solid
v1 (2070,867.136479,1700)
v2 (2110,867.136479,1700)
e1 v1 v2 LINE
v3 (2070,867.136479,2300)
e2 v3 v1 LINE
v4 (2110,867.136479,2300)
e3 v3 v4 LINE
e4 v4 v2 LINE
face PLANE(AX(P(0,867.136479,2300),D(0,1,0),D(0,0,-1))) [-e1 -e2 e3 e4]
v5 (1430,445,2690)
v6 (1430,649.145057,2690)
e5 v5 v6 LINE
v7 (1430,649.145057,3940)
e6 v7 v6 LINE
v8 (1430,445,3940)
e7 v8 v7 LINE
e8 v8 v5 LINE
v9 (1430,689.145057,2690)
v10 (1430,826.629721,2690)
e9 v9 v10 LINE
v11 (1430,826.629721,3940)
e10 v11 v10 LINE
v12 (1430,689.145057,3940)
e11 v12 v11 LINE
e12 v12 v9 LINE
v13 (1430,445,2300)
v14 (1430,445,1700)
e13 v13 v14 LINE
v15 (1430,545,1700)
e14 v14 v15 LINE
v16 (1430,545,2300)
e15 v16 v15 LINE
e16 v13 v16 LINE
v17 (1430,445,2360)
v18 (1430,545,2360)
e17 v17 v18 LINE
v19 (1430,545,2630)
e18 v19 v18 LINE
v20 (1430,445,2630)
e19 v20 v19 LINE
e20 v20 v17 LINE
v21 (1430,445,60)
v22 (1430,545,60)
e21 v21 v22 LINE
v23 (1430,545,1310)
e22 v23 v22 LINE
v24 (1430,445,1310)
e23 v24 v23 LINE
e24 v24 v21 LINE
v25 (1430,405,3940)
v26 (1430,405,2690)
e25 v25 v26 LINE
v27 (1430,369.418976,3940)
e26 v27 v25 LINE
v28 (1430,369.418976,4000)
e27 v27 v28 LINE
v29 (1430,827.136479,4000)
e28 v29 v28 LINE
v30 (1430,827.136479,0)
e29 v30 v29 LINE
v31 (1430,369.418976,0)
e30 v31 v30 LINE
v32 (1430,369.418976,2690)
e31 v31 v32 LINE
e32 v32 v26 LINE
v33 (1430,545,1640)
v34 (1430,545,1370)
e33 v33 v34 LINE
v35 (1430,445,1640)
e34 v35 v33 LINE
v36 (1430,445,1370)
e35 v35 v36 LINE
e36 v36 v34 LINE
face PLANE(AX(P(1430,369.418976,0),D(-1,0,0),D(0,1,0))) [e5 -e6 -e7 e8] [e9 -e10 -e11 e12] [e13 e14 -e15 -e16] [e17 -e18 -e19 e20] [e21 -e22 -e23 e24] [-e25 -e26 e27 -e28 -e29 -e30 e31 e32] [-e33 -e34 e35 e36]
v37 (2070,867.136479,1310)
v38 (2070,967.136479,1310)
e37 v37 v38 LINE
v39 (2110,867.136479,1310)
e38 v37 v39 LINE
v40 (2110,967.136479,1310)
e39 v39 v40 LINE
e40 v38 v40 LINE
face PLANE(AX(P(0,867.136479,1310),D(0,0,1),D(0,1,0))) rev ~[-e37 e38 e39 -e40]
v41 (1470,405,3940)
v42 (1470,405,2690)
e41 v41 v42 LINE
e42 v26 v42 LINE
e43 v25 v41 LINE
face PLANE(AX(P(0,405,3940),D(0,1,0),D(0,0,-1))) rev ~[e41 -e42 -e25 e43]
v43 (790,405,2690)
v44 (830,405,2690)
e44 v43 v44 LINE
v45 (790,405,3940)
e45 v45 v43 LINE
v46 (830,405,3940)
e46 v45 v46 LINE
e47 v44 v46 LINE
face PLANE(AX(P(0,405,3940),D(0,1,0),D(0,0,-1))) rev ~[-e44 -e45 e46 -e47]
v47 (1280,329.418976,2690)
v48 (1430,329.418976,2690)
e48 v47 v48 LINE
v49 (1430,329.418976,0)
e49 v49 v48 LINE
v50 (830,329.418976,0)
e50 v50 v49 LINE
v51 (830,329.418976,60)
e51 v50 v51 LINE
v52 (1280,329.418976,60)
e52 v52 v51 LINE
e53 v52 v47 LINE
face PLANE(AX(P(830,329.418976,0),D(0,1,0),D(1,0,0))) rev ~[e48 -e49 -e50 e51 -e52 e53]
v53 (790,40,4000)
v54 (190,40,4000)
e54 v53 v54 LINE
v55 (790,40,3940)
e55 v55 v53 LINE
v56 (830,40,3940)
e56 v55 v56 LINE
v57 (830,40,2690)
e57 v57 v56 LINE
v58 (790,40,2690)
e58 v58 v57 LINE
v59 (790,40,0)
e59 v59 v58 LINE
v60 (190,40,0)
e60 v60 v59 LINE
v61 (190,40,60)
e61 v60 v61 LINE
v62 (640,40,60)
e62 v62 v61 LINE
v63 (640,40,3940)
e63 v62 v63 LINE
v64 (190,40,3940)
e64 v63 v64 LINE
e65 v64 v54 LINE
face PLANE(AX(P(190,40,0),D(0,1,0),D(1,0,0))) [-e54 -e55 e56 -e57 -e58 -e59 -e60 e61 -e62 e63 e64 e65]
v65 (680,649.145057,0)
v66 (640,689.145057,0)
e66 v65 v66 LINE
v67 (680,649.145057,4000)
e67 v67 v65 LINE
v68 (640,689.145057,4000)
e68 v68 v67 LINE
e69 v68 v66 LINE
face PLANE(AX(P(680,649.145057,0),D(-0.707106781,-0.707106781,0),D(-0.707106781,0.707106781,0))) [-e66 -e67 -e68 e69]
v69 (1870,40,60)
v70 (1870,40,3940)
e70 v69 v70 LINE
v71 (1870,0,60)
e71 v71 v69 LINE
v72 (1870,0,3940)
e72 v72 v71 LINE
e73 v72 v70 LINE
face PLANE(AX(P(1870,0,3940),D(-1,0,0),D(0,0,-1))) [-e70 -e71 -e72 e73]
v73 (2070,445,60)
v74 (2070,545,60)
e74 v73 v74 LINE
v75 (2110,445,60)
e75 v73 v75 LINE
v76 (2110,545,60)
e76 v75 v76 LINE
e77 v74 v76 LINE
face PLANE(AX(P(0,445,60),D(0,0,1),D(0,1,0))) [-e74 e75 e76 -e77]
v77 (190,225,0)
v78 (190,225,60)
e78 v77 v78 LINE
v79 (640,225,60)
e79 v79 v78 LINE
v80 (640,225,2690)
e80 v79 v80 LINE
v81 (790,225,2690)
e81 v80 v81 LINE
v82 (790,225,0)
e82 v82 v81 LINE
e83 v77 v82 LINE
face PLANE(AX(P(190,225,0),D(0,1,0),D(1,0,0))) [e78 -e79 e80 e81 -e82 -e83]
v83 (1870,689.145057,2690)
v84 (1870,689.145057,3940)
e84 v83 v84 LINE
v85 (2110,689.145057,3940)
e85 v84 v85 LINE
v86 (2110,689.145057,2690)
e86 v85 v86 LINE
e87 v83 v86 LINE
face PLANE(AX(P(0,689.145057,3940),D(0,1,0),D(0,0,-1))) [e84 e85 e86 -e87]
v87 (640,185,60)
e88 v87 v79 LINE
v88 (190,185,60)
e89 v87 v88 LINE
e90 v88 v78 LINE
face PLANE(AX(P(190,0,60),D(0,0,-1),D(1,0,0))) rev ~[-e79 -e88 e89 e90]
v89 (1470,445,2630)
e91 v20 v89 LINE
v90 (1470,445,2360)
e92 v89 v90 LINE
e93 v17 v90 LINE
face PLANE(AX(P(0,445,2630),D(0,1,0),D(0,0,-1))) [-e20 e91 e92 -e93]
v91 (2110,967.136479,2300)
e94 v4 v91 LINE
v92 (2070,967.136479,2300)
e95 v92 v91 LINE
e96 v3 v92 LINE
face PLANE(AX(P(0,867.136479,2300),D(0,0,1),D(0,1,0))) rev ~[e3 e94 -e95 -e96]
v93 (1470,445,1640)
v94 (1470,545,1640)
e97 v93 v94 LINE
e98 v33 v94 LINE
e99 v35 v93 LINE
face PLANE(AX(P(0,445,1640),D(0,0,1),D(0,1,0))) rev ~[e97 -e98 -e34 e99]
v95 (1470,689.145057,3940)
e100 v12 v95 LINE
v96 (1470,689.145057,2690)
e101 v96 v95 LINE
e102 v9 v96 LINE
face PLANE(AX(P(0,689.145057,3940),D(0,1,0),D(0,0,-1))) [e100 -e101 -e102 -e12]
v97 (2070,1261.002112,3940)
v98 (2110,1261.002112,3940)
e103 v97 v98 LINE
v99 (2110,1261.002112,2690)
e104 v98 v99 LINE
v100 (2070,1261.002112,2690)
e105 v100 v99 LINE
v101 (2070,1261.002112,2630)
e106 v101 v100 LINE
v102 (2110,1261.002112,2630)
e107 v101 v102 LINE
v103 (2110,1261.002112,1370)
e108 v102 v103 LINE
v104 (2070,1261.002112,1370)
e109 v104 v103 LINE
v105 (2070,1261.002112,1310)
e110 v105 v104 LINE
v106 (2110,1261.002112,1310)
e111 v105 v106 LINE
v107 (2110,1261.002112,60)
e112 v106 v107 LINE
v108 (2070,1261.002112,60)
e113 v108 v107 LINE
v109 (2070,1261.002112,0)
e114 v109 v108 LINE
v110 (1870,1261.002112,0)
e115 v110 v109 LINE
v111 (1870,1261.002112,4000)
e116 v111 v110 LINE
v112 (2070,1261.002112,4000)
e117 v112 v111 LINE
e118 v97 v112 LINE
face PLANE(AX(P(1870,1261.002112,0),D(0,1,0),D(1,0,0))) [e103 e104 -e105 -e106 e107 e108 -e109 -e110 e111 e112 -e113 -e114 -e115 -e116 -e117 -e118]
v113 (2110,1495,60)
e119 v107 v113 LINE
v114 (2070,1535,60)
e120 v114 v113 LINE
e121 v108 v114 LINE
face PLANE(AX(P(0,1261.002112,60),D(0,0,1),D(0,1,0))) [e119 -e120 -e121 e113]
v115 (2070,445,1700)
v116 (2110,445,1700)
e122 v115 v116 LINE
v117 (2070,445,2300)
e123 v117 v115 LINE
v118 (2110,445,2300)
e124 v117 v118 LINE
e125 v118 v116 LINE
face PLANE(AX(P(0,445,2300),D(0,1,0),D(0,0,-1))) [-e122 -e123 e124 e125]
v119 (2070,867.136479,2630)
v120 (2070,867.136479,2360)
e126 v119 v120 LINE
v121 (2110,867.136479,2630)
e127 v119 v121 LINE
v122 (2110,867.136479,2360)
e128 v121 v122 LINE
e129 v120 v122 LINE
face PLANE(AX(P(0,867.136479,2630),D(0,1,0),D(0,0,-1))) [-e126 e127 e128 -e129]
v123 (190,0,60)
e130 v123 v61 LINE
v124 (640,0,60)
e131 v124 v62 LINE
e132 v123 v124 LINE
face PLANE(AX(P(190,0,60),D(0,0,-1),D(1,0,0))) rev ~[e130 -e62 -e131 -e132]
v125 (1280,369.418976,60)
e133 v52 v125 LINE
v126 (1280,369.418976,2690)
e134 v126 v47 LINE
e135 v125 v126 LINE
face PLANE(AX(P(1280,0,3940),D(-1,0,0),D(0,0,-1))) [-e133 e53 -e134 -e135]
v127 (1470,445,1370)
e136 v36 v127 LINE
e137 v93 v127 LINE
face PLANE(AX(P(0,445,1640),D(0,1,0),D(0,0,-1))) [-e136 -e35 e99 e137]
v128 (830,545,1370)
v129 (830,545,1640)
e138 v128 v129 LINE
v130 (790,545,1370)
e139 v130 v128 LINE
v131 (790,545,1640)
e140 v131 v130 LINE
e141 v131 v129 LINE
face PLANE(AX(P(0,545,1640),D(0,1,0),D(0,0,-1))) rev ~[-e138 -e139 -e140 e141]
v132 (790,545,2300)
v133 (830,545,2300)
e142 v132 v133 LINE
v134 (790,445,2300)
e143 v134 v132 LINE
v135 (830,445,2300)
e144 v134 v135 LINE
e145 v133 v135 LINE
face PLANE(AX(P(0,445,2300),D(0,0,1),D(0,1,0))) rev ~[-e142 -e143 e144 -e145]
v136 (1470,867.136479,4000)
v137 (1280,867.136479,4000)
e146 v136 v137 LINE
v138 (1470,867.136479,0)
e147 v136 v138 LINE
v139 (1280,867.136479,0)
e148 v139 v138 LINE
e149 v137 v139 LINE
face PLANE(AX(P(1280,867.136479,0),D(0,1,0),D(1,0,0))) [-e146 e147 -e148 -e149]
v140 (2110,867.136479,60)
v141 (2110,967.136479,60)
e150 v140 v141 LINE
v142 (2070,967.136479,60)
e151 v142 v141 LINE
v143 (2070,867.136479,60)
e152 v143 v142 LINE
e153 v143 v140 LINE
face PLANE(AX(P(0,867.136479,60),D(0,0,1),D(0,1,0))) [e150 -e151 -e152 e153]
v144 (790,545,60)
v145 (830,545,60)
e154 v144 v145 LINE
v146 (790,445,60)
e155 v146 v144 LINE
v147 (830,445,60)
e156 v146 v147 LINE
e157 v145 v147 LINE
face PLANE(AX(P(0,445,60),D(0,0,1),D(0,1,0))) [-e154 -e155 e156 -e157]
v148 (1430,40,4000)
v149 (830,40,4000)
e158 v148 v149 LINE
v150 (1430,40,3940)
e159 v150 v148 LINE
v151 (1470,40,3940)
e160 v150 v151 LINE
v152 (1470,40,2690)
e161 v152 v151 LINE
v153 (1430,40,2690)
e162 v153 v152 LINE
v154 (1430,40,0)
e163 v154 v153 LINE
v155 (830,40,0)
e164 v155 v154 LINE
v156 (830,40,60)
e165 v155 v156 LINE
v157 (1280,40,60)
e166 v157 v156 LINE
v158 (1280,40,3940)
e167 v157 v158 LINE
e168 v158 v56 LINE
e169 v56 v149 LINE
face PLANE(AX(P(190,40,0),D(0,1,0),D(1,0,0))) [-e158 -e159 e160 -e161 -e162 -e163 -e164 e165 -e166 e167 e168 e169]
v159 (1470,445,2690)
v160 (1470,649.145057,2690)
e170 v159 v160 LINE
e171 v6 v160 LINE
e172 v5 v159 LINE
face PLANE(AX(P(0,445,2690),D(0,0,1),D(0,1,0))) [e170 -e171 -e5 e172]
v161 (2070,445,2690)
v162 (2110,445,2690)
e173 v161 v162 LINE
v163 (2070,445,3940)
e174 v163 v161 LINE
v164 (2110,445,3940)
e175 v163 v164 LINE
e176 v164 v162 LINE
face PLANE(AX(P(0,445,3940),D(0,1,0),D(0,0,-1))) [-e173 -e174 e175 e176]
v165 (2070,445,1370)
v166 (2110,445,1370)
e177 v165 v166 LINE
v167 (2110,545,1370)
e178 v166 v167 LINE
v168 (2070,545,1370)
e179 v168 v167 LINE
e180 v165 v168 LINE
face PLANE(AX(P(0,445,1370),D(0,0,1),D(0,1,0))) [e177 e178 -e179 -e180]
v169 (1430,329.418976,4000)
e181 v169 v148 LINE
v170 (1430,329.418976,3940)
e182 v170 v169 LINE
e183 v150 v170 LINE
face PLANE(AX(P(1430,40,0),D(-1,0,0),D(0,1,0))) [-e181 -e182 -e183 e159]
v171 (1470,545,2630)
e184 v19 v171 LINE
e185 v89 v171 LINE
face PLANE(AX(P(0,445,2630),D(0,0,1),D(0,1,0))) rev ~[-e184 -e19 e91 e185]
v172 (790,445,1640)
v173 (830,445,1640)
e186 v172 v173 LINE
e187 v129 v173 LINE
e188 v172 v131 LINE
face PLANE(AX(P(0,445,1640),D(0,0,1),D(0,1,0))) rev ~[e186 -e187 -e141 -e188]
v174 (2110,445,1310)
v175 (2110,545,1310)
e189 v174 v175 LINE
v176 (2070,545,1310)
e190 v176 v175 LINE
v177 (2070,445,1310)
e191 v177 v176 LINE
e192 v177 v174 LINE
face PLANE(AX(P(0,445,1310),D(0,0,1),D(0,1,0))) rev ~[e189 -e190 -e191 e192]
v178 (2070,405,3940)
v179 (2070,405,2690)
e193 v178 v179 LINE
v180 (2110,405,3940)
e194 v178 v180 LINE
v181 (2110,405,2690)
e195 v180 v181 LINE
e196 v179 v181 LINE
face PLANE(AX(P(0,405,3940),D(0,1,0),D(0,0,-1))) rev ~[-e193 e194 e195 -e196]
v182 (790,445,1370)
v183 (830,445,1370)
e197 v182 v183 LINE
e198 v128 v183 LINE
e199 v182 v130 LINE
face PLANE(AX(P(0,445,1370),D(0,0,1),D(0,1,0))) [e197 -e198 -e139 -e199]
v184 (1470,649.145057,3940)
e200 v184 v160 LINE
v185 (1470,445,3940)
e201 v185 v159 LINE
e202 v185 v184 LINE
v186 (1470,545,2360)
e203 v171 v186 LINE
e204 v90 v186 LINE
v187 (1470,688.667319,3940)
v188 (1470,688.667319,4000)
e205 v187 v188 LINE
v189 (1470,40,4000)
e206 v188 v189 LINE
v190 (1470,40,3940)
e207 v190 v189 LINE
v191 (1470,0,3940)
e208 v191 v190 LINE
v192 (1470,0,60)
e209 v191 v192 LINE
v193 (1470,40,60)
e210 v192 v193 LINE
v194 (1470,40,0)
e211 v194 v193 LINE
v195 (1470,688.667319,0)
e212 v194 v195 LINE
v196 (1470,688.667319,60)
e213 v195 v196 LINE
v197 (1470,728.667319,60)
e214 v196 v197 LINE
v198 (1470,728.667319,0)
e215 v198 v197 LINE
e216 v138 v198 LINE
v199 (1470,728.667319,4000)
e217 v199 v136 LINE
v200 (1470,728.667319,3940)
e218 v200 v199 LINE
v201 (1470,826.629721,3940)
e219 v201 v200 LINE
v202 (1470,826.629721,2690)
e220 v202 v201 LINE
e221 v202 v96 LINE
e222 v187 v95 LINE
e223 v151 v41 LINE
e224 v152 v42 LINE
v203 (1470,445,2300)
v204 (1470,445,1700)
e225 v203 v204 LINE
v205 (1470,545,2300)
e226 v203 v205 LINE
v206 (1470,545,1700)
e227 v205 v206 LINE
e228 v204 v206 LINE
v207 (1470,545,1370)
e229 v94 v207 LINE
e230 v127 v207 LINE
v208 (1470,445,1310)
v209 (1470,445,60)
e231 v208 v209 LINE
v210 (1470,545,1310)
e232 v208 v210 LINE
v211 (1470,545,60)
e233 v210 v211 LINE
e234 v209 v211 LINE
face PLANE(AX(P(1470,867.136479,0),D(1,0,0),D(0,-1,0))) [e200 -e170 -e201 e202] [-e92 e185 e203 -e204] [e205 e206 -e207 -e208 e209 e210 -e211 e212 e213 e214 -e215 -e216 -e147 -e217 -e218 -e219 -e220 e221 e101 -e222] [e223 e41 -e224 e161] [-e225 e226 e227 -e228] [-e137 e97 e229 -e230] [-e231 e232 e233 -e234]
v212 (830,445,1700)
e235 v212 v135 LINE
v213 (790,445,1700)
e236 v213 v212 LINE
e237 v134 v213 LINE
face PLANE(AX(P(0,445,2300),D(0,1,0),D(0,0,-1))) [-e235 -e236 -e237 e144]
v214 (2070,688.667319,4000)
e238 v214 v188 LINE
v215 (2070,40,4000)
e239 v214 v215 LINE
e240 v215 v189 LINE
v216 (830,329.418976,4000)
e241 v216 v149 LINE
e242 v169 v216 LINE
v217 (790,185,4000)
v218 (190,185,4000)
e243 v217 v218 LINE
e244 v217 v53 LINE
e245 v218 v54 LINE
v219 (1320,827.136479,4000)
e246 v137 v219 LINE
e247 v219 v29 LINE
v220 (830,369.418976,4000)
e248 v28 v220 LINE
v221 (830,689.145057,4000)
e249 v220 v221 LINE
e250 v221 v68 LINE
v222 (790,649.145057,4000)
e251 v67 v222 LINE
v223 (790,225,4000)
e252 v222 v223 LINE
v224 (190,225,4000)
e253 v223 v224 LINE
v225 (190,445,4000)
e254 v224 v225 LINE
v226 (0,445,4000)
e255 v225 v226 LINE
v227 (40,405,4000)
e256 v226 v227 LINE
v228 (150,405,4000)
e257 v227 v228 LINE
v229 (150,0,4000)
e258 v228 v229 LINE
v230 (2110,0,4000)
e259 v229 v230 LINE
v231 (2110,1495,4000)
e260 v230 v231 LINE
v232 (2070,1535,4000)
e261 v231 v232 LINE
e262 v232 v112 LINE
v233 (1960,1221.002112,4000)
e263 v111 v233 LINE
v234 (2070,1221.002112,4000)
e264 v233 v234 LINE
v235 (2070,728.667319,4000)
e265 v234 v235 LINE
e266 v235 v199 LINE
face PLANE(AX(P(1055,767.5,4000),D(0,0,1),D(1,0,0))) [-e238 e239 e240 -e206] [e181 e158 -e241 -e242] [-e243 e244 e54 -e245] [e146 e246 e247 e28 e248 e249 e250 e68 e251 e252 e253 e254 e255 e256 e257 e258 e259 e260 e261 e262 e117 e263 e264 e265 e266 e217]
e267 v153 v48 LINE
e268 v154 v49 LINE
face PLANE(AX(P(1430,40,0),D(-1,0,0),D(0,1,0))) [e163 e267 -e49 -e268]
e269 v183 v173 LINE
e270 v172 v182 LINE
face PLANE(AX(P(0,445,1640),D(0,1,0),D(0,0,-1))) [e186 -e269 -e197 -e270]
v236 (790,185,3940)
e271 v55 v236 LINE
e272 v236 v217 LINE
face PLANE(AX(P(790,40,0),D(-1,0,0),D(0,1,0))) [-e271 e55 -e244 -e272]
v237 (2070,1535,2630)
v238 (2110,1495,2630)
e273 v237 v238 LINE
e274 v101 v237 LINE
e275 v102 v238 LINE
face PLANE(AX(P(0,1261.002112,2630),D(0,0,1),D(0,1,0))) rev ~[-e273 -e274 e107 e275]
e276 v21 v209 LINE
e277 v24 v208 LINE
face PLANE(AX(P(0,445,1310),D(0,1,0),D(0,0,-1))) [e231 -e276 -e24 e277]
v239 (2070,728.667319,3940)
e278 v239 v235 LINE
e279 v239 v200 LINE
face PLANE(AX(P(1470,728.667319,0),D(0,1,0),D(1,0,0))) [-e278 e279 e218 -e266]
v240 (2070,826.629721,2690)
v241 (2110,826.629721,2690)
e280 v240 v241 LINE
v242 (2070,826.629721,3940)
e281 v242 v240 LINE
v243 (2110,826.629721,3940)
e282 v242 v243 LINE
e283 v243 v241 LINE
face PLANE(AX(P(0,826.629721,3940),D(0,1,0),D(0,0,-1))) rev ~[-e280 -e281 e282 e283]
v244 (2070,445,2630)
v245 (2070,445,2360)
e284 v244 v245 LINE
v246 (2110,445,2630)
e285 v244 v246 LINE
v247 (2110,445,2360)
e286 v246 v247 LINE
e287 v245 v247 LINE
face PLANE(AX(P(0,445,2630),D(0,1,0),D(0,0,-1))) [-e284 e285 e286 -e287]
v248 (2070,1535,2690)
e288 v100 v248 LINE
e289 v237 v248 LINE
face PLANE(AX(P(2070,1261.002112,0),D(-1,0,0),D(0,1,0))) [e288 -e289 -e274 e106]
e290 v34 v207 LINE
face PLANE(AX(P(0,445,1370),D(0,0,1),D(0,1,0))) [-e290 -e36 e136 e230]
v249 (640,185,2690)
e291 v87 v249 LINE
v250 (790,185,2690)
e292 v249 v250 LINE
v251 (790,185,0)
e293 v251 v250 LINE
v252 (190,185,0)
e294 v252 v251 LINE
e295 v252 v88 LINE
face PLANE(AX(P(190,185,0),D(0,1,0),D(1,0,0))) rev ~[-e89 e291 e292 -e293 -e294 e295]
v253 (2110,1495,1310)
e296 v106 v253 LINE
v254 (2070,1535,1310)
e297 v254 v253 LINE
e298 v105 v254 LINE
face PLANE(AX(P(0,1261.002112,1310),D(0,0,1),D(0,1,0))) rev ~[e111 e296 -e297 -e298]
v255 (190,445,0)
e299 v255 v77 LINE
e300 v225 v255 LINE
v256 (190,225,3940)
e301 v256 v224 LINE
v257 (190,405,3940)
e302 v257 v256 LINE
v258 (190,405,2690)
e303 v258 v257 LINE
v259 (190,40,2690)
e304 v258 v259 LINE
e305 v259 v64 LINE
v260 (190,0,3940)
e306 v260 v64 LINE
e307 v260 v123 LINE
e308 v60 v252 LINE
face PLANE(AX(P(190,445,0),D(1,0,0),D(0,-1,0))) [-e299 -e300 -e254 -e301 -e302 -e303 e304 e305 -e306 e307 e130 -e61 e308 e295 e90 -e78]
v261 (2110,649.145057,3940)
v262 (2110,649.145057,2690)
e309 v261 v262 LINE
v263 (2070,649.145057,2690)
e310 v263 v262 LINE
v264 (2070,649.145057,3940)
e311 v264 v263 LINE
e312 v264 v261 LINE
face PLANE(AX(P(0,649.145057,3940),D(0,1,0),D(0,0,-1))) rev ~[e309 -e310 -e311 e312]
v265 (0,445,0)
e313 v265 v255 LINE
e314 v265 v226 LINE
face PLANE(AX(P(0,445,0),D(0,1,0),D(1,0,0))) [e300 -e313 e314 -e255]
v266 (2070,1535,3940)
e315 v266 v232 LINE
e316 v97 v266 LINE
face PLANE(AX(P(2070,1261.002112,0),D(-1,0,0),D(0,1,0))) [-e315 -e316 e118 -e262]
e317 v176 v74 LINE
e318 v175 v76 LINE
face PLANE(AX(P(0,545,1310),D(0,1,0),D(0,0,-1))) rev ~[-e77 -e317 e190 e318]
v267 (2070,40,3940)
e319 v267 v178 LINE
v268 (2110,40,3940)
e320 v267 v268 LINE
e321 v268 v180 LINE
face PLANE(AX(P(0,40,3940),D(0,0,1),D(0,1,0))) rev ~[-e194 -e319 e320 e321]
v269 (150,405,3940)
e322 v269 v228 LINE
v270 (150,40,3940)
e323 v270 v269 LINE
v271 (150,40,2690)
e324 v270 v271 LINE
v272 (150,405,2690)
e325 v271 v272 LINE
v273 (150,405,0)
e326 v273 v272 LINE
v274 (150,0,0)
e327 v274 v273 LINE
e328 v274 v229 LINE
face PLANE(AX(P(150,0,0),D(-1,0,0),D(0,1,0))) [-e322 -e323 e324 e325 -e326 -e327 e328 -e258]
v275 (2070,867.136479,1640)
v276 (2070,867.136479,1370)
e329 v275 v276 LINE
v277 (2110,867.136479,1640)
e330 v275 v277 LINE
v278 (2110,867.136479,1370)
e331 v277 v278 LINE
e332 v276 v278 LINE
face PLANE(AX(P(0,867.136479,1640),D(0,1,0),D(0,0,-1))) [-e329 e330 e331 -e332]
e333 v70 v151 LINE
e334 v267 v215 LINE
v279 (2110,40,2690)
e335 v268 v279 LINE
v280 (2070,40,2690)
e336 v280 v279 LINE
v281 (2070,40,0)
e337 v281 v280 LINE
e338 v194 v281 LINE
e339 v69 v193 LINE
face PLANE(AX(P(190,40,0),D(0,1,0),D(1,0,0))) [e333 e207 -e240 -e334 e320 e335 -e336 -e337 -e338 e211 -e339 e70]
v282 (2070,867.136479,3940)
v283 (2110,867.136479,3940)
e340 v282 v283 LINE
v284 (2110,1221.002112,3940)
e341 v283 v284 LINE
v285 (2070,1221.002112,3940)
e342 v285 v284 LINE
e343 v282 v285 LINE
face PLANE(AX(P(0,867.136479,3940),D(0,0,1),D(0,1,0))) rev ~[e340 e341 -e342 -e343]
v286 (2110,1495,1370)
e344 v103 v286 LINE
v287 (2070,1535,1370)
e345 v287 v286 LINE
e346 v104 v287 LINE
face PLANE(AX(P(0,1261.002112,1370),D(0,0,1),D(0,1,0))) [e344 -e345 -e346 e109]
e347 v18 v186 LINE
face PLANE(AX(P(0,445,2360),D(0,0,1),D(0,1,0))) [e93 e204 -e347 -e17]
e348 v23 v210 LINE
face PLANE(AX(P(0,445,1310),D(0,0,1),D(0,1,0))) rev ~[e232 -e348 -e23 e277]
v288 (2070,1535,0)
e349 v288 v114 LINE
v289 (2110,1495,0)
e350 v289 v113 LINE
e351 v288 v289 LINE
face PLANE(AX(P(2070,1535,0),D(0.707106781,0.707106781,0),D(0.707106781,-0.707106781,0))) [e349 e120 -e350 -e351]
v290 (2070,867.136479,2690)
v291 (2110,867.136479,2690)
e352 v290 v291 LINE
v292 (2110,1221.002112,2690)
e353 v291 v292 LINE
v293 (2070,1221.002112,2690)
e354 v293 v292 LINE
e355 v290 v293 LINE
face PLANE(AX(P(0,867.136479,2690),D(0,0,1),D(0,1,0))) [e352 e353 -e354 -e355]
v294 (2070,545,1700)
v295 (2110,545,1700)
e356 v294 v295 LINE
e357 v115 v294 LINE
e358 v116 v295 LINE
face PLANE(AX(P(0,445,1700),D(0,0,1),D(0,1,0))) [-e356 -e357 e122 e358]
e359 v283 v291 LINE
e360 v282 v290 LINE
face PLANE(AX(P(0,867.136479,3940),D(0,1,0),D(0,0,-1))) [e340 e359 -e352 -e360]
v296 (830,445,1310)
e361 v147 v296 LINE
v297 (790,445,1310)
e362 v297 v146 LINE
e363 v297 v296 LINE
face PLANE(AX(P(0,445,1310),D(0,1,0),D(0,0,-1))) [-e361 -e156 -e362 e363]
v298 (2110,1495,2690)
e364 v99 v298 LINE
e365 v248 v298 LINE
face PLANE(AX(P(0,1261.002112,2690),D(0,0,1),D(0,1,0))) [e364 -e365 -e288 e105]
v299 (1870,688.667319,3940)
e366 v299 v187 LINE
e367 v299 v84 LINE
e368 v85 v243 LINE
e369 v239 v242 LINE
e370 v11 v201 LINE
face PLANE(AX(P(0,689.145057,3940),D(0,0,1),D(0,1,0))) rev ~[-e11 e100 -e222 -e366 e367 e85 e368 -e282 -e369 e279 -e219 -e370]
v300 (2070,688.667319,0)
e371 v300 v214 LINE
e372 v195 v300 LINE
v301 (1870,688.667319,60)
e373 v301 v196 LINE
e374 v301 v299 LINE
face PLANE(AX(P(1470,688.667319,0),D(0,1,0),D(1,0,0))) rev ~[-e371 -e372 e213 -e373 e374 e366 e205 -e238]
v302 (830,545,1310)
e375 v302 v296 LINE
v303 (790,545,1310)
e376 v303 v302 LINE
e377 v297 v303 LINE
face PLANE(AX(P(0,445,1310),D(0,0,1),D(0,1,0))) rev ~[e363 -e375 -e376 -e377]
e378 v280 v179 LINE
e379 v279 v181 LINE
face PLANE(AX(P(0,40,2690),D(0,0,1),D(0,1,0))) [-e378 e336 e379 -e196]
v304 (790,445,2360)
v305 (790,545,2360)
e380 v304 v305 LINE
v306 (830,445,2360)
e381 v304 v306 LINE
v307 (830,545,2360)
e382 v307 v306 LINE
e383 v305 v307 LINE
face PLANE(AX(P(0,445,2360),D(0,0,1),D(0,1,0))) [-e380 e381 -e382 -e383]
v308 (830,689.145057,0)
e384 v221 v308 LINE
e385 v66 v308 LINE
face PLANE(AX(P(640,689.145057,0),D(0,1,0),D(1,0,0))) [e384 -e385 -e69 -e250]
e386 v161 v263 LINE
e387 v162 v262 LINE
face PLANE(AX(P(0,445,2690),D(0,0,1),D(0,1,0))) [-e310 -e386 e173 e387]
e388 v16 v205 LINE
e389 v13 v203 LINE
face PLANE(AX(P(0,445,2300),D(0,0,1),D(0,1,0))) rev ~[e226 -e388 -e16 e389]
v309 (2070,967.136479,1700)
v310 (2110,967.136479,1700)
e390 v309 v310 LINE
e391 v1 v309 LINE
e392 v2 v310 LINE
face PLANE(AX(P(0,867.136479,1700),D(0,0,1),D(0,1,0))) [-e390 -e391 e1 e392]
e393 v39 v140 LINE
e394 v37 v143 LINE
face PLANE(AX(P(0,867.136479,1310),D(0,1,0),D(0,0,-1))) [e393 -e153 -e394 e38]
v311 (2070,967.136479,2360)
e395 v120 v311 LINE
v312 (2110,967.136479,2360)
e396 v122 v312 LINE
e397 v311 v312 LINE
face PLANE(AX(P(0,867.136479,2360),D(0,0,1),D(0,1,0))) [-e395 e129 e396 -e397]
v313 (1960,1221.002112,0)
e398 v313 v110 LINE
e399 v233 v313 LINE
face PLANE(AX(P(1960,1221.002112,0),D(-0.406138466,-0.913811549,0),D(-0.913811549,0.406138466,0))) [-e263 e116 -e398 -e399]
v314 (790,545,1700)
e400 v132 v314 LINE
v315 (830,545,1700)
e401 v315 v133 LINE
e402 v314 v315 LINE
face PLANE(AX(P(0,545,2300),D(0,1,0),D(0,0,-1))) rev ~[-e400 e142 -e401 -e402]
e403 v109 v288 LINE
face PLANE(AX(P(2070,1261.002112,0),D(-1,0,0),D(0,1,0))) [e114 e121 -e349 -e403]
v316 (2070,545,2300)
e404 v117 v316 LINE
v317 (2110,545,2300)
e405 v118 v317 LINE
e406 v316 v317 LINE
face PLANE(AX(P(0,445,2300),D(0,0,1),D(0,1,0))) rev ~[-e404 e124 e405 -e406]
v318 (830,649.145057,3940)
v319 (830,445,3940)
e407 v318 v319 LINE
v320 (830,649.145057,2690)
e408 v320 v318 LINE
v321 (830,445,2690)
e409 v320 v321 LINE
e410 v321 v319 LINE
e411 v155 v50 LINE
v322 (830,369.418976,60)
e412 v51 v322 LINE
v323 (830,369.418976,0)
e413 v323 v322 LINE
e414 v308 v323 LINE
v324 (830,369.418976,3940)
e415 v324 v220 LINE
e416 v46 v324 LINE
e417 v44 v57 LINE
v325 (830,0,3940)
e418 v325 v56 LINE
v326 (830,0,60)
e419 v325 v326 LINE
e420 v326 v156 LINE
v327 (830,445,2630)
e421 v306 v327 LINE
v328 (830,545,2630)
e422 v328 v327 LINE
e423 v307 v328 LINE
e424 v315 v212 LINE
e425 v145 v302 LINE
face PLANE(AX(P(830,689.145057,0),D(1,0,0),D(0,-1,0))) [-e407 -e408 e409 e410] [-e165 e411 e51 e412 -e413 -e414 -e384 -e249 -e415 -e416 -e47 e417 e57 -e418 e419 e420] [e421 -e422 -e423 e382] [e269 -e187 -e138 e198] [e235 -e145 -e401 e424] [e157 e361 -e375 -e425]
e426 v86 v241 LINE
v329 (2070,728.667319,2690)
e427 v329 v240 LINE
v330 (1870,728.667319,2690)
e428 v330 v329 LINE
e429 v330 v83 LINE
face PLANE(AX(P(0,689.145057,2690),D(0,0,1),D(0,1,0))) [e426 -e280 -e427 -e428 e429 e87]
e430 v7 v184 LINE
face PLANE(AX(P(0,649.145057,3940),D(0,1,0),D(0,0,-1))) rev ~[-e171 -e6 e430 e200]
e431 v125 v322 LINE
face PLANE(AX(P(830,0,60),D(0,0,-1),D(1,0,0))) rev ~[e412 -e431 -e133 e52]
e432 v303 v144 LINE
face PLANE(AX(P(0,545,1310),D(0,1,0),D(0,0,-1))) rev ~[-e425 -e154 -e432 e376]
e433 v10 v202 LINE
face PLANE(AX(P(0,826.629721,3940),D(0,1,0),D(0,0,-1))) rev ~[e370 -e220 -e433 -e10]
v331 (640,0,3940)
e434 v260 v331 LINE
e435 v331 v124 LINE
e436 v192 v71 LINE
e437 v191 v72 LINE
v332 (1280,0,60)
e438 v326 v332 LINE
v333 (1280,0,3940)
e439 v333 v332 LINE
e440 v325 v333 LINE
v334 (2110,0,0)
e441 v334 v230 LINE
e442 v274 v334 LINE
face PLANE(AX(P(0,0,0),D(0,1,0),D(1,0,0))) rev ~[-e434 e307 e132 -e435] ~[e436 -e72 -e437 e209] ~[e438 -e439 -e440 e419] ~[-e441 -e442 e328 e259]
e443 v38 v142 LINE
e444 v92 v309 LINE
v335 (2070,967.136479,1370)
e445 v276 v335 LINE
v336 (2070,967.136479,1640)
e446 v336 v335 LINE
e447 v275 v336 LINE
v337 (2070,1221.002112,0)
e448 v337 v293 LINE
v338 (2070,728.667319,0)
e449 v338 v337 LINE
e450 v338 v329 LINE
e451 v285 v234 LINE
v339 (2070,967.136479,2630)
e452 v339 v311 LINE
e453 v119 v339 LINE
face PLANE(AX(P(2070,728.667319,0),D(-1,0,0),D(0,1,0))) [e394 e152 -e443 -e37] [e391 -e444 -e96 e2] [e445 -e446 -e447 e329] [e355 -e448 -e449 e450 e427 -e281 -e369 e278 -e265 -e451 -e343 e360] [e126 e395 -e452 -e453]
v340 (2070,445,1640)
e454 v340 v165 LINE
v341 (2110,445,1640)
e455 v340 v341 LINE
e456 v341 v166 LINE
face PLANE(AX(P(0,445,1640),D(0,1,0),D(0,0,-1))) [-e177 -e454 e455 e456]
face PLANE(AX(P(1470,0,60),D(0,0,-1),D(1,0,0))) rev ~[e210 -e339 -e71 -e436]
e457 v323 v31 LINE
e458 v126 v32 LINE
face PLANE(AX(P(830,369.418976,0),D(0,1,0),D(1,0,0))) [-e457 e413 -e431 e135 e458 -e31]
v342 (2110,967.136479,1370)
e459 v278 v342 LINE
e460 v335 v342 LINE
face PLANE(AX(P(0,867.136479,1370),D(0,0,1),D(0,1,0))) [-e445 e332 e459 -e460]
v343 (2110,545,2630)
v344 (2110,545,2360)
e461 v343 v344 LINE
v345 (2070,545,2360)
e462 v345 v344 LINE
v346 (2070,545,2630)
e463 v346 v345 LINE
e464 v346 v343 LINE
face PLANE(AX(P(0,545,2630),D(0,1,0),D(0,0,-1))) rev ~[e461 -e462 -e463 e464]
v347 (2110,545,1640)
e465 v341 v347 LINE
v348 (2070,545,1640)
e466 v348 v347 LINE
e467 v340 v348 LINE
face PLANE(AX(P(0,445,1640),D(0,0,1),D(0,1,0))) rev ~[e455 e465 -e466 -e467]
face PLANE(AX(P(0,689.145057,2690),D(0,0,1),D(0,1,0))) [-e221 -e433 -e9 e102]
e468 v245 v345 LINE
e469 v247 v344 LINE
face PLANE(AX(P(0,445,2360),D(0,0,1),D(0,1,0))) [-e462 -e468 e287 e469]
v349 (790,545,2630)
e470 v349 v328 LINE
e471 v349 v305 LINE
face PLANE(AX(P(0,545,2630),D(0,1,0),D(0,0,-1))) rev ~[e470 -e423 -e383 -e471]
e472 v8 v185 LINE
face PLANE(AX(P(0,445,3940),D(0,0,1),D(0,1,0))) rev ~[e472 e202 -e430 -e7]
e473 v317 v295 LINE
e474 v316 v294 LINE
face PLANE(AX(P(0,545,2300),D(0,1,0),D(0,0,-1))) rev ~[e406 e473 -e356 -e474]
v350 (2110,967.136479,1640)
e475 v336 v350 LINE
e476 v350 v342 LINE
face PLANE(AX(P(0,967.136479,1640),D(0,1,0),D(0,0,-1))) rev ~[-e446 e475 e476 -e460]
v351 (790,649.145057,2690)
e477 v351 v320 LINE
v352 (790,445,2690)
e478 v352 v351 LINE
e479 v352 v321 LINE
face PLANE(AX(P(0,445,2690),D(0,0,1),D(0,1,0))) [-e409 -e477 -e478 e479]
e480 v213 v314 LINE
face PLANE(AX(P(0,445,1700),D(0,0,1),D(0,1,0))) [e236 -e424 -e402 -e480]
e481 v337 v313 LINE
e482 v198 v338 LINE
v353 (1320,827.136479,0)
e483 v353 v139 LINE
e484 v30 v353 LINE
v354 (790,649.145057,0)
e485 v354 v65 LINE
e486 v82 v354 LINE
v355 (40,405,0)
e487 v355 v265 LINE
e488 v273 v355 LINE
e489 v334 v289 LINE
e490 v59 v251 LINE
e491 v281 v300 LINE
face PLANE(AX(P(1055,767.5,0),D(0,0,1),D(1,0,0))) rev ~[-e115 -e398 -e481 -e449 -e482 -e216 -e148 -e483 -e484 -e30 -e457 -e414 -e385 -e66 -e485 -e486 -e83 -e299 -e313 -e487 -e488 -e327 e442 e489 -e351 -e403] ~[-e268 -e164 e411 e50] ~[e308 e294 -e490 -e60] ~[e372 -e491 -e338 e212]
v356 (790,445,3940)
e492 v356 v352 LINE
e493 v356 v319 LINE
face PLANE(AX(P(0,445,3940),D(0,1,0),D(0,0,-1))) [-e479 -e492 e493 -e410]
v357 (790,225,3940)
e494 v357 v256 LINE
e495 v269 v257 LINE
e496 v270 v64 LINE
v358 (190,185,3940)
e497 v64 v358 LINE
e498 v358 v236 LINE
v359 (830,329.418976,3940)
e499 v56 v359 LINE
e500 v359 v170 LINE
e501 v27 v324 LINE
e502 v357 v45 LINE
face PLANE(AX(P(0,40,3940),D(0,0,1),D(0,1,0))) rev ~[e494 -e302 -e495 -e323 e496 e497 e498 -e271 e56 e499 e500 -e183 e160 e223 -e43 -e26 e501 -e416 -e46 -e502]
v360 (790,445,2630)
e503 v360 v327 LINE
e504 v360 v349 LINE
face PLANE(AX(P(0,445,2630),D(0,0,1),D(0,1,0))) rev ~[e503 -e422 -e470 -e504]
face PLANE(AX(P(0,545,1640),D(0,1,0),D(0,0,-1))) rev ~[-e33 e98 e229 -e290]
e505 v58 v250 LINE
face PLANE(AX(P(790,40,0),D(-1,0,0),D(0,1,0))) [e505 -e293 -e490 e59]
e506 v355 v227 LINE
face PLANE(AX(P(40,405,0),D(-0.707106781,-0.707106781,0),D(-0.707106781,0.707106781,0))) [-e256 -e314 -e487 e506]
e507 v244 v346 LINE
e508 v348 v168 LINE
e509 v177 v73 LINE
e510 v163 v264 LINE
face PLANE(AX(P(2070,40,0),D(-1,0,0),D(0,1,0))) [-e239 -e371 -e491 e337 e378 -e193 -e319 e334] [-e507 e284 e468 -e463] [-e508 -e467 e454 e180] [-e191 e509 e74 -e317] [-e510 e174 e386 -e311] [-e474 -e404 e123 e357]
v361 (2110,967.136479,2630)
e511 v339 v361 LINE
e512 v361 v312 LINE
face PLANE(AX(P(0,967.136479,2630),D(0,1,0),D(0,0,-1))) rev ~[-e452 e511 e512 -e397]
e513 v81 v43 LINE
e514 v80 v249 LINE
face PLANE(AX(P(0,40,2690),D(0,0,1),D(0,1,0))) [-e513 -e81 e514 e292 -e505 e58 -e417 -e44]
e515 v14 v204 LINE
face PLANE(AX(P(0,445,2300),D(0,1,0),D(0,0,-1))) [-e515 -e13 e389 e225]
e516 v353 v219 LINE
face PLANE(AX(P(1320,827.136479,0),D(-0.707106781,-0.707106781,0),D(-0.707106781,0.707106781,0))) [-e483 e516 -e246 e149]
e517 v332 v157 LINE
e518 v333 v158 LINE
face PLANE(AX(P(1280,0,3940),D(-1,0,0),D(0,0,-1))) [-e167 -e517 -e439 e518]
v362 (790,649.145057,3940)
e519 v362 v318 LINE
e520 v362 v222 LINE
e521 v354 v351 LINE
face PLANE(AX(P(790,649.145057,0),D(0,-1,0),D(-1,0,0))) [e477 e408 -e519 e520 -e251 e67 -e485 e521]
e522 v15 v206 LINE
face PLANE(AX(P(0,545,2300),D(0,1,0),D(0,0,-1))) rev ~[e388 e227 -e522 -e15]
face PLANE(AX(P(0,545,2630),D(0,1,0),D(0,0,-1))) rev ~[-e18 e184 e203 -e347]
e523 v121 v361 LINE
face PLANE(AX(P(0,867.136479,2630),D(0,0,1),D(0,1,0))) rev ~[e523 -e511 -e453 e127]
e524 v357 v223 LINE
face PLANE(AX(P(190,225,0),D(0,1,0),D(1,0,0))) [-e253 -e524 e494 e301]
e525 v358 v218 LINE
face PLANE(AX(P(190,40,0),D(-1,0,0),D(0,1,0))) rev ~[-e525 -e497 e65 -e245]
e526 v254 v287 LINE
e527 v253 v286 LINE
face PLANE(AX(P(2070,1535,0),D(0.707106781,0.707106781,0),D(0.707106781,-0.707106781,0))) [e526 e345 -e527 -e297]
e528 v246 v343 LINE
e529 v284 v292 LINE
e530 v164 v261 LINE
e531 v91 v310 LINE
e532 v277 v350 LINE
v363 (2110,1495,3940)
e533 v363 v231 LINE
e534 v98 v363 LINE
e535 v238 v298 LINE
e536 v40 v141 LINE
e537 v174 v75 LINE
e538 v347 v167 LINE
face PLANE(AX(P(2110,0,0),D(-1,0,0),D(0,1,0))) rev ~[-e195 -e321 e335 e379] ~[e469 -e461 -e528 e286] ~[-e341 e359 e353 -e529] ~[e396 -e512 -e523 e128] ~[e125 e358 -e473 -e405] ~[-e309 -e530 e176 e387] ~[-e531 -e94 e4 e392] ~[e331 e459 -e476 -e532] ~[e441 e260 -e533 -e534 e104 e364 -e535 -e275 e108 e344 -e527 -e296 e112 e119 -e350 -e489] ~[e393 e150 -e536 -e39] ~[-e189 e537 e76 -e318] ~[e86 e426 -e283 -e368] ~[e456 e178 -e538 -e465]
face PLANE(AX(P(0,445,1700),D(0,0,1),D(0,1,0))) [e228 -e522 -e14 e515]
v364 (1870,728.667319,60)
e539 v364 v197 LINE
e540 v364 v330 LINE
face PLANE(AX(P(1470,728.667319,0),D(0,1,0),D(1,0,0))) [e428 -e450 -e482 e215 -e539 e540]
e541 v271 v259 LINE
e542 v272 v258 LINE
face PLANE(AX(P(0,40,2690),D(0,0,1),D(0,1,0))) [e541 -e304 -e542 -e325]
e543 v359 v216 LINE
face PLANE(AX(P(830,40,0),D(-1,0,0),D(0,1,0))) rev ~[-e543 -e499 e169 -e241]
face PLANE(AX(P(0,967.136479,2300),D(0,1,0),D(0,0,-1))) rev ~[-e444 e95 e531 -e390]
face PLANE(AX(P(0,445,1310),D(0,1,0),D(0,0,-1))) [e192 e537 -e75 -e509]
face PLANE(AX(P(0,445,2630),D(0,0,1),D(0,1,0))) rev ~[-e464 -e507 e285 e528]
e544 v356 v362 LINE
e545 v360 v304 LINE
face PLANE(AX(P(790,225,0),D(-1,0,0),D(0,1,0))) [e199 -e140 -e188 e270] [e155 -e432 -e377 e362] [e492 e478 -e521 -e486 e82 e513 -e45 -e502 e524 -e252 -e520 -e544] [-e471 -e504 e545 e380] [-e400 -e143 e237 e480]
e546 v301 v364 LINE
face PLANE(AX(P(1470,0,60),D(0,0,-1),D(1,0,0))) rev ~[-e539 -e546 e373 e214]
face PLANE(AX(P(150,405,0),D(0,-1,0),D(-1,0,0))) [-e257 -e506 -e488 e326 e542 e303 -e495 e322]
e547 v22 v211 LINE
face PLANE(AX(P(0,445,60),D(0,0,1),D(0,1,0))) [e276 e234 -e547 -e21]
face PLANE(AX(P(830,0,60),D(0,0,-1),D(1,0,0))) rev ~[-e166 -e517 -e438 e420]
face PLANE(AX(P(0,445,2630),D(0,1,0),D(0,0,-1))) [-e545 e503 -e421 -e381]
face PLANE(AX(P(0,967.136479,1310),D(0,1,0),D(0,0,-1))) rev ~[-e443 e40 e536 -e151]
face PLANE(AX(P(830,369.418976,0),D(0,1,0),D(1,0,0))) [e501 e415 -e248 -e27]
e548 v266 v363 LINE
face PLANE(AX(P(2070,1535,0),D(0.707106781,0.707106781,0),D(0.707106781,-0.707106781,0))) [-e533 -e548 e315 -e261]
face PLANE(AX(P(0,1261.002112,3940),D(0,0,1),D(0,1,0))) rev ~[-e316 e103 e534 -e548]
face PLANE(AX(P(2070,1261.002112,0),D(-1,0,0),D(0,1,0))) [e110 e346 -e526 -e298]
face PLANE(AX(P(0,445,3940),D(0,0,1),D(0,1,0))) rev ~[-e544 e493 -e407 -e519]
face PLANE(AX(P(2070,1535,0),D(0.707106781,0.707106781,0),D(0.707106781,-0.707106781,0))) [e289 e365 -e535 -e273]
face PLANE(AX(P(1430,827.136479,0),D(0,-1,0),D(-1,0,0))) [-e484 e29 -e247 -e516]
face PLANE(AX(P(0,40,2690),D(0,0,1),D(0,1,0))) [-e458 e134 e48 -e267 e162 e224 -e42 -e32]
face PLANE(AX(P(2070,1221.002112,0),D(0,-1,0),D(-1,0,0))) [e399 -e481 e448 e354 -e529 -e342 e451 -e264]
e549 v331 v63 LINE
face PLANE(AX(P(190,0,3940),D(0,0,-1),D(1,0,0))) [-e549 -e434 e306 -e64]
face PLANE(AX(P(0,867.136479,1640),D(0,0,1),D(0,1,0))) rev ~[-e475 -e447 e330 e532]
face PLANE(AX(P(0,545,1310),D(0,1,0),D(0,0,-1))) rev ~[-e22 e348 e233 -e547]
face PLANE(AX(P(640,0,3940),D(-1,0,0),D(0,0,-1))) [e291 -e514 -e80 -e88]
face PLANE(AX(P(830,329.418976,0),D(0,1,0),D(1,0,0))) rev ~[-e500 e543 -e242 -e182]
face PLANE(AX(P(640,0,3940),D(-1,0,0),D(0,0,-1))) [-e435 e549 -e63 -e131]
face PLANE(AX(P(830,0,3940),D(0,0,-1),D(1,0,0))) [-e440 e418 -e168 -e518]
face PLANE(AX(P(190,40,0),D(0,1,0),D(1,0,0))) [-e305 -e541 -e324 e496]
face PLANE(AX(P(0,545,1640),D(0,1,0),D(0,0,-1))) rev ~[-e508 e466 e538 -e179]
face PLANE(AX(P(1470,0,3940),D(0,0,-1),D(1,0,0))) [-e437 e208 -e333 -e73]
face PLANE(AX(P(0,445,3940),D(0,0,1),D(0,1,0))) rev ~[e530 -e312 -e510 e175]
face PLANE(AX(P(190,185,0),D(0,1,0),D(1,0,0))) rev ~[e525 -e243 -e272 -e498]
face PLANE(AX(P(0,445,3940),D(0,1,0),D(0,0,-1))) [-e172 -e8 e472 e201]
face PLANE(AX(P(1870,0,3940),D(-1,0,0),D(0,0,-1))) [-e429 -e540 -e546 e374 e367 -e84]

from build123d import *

# Parameters (mm, degrees)
ESQUISSE1_W              = 2110
ESQUISSE1_H              = 1535
BOSS_EXTRU_1_DEPTH       = 4000
ESQUISSE2_OUTSIDE_W      = 3067.162
ESQUISSE2_OUTSIDE_H      = 2492.162
ESQUISSE2_OUTSIDE_W_2    = 600
ESQUISSE2_OUTSIDE_H_2    = 289.418976122
ESQUISSE2_OUTSIDE_H_3    = 145
ESQUISSE2_OUTSIDE_H_4    = 648.667318714
ENL_V_MAT_EXTRU_1_DEPTH  = 4776.806214662
ESQUISSE3_W              = 1250
ESQUISSE3_H              = 137.484664561
ESQUISSE3_H_2            = 100
ESQUISSE3_W_2            = 270
ESQUISSE3_W_3            = 600
ESQUISSE3_H_3            = 353.865632752
ESQUISSE3_H_4            = 390
ESQUISSE3_W_4            = 1260
ESQUISSE3_H_5            = 490
ESQUISSE3_H_6            = 365
ESQUISSE3_H_7            = 204.145056892
ENL_V_MAT_EXTRU_11_DEPTH = 4000
ESQUISSE4_W              = 450
ESQUISSE4_H              = 3880
ESQUISSE4_W_2            = 400
ENL_V_MAT_EXTRU_13_DEPTH = 1800


with BuildPart() as part:
    # Esquisse1 → Boss.-Extru.1 (new body)
    with BuildSketch(Plane.XY):
        with Locations((1055, 767.5)):
            Rectangle(ESQUISSE1_W, ESQUISSE1_H)
    extrude(amount=BOSS_EXTRU_1_DEPTH)

    # Esquisse2 outside → Enlèv. mat.-Extru.1 (cut, through all)
    # profile 1 of 4: a face of its own
    with BuildSketch(Plane.XY):
        with Locations((1055, 767.5)):
            Rectangle(ESQUISSE2_OUTSIDE_W, ESQUISSE2_OUTSIDE_H)
        Polygon((190, 225), (790, 225), (790, 649.145056892), (680, 649.145056892), (640, 689.145056892), (830, 689.145056892), (830, 369.418976122), (1430, 369.418976122), (1430, 827.136479357), (1320, 827.136479357), (1280, 867.136479357), (1470, 867.136479357), (1470, 728.667318714), (2070, 728.667318714), (2070, 1221.002112109), (1960, 1221.002112109), (1870, 1261.002112109), (2070, 1261.002112109), (2070, 1535), (2110, 1495), (2110, 0), (150, 0), (150, 405), (40, 405), (0, 445), (190, 445), align=None, mode=Mode.SUBTRACT)
    # profile 2 of 4: a face of its own
    with BuildSketch(Plane.XY):
        with Locations((1130, 184.709488061)):
            Rectangle(ESQUISSE2_OUTSIDE_W_2, ESQUISSE2_OUTSIDE_H_2)
    # profile 3 of 4: a face of its own
    with BuildSketch(Plane.XY):
        with Locations((490, 112.5)):
            Rectangle(ESQUISSE2_OUTSIDE_W_2, ESQUISSE2_OUTSIDE_H_3)
    # profile 4 of 4: a face of its own
    with BuildSketch(Plane.XY):
        with Locations((1770, 364.333659357)):
            Rectangle(ESQUISSE2_OUTSIDE_W_2, ESQUISSE2_OUTSIDE_H_4)
    extrude(amount=ENL_V_MAT_EXTRU_1_DEPTH, mode=Mode.SUBTRACT)

    # Esquisse3 → Enlèv. mat.-Extru.11 (cut)
    with BuildSketch(Plane(origin=(0, 0, 0), x_dir=(0, 0, -1), z_dir=(1, 0, 0))):
        with Locations((-3315, 757.887389172)):
            Rectangle(ESQUISSE3_W, ESQUISSE3_H)
        with Locations((-685, 495)):
            Rectangle(ESQUISSE3_W, ESQUISSE3_H_2)
        with Locations((-1505, 495)):
            Rectangle(ESQUISSE3_W_2, ESQUISSE3_H_2)
        with Locations((-2000, 495)):
            Rectangle(ESQUISSE3_W_3, ESQUISSE3_H_2)
        with Locations((-2495, 495)):
            Rectangle(ESQUISSE3_W_2, ESQUISSE3_H_2)
        with Locations((-685, 917.136479357)):
            Rectangle(ESQUISSE3_W, ESQUISSE3_H_2)
        with Locations((-1505, 917.136479357)):
            Rectangle(ESQUISSE3_W_2, ESQUISSE3_H_2)
        with Locations((-2000, 917.136479357)):
            Rectangle(ESQUISSE3_W_3, ESQUISSE3_H_2)
        with Locations((-2495, 917.136479357)):
            Rectangle(ESQUISSE3_W_2, ESQUISSE3_H_2)
        with Locations((-3315, 1044.069295733)):
            Rectangle(ESQUISSE3_W, ESQUISSE3_H_3)
        with Locations((-685, 1456.002112109)):
            Rectangle(ESQUISSE3_W, ESQUISSE3_H_4)
        with Locations((-2000, 1456.002112109)):
            Rectangle(ESQUISSE3_W_4, ESQUISSE3_H_4)
        with Locations((-3315, 1506.002112109)):
            Rectangle(ESQUISSE3_W, ESQUISSE3_H_5)
        with Locations((-3315, 222.5)):
            Rectangle(ESQUISSE3_W, ESQUISSE3_H_6)
        with Locations((-3315, 547.072528446)):
            Rectangle(ESQUISSE3_W, ESQUISSE3_H_7)
    extrude(amount=ENL_V_MAT_EXTRU_11_DEPTH, mode=Mode.SUBTRACT)

    # Esquisse4 → Enlèv. mat.-Extru.13 (cut)
    with BuildSketch(Plane(origin=(0, 0, 0), x_dir=(1, 0, 0), z_dir=(0, 1, 0))):
        with Locations((415, -2000)):
            Rectangle(ESQUISSE4_W, ESQUISSE4_H)
        with Locations((1055, -2000)):
            Rectangle(ESQUISSE4_W, ESQUISSE4_H)
        with Locations((1670, -2000)):
            Rectangle(ESQUISSE4_W_2, ESQUISSE4_H)
    extrude(amount=ENL_V_MAT_EXTRU_13_DEPTH, mode=Mode.SUBTRACT)


solid = part.part
